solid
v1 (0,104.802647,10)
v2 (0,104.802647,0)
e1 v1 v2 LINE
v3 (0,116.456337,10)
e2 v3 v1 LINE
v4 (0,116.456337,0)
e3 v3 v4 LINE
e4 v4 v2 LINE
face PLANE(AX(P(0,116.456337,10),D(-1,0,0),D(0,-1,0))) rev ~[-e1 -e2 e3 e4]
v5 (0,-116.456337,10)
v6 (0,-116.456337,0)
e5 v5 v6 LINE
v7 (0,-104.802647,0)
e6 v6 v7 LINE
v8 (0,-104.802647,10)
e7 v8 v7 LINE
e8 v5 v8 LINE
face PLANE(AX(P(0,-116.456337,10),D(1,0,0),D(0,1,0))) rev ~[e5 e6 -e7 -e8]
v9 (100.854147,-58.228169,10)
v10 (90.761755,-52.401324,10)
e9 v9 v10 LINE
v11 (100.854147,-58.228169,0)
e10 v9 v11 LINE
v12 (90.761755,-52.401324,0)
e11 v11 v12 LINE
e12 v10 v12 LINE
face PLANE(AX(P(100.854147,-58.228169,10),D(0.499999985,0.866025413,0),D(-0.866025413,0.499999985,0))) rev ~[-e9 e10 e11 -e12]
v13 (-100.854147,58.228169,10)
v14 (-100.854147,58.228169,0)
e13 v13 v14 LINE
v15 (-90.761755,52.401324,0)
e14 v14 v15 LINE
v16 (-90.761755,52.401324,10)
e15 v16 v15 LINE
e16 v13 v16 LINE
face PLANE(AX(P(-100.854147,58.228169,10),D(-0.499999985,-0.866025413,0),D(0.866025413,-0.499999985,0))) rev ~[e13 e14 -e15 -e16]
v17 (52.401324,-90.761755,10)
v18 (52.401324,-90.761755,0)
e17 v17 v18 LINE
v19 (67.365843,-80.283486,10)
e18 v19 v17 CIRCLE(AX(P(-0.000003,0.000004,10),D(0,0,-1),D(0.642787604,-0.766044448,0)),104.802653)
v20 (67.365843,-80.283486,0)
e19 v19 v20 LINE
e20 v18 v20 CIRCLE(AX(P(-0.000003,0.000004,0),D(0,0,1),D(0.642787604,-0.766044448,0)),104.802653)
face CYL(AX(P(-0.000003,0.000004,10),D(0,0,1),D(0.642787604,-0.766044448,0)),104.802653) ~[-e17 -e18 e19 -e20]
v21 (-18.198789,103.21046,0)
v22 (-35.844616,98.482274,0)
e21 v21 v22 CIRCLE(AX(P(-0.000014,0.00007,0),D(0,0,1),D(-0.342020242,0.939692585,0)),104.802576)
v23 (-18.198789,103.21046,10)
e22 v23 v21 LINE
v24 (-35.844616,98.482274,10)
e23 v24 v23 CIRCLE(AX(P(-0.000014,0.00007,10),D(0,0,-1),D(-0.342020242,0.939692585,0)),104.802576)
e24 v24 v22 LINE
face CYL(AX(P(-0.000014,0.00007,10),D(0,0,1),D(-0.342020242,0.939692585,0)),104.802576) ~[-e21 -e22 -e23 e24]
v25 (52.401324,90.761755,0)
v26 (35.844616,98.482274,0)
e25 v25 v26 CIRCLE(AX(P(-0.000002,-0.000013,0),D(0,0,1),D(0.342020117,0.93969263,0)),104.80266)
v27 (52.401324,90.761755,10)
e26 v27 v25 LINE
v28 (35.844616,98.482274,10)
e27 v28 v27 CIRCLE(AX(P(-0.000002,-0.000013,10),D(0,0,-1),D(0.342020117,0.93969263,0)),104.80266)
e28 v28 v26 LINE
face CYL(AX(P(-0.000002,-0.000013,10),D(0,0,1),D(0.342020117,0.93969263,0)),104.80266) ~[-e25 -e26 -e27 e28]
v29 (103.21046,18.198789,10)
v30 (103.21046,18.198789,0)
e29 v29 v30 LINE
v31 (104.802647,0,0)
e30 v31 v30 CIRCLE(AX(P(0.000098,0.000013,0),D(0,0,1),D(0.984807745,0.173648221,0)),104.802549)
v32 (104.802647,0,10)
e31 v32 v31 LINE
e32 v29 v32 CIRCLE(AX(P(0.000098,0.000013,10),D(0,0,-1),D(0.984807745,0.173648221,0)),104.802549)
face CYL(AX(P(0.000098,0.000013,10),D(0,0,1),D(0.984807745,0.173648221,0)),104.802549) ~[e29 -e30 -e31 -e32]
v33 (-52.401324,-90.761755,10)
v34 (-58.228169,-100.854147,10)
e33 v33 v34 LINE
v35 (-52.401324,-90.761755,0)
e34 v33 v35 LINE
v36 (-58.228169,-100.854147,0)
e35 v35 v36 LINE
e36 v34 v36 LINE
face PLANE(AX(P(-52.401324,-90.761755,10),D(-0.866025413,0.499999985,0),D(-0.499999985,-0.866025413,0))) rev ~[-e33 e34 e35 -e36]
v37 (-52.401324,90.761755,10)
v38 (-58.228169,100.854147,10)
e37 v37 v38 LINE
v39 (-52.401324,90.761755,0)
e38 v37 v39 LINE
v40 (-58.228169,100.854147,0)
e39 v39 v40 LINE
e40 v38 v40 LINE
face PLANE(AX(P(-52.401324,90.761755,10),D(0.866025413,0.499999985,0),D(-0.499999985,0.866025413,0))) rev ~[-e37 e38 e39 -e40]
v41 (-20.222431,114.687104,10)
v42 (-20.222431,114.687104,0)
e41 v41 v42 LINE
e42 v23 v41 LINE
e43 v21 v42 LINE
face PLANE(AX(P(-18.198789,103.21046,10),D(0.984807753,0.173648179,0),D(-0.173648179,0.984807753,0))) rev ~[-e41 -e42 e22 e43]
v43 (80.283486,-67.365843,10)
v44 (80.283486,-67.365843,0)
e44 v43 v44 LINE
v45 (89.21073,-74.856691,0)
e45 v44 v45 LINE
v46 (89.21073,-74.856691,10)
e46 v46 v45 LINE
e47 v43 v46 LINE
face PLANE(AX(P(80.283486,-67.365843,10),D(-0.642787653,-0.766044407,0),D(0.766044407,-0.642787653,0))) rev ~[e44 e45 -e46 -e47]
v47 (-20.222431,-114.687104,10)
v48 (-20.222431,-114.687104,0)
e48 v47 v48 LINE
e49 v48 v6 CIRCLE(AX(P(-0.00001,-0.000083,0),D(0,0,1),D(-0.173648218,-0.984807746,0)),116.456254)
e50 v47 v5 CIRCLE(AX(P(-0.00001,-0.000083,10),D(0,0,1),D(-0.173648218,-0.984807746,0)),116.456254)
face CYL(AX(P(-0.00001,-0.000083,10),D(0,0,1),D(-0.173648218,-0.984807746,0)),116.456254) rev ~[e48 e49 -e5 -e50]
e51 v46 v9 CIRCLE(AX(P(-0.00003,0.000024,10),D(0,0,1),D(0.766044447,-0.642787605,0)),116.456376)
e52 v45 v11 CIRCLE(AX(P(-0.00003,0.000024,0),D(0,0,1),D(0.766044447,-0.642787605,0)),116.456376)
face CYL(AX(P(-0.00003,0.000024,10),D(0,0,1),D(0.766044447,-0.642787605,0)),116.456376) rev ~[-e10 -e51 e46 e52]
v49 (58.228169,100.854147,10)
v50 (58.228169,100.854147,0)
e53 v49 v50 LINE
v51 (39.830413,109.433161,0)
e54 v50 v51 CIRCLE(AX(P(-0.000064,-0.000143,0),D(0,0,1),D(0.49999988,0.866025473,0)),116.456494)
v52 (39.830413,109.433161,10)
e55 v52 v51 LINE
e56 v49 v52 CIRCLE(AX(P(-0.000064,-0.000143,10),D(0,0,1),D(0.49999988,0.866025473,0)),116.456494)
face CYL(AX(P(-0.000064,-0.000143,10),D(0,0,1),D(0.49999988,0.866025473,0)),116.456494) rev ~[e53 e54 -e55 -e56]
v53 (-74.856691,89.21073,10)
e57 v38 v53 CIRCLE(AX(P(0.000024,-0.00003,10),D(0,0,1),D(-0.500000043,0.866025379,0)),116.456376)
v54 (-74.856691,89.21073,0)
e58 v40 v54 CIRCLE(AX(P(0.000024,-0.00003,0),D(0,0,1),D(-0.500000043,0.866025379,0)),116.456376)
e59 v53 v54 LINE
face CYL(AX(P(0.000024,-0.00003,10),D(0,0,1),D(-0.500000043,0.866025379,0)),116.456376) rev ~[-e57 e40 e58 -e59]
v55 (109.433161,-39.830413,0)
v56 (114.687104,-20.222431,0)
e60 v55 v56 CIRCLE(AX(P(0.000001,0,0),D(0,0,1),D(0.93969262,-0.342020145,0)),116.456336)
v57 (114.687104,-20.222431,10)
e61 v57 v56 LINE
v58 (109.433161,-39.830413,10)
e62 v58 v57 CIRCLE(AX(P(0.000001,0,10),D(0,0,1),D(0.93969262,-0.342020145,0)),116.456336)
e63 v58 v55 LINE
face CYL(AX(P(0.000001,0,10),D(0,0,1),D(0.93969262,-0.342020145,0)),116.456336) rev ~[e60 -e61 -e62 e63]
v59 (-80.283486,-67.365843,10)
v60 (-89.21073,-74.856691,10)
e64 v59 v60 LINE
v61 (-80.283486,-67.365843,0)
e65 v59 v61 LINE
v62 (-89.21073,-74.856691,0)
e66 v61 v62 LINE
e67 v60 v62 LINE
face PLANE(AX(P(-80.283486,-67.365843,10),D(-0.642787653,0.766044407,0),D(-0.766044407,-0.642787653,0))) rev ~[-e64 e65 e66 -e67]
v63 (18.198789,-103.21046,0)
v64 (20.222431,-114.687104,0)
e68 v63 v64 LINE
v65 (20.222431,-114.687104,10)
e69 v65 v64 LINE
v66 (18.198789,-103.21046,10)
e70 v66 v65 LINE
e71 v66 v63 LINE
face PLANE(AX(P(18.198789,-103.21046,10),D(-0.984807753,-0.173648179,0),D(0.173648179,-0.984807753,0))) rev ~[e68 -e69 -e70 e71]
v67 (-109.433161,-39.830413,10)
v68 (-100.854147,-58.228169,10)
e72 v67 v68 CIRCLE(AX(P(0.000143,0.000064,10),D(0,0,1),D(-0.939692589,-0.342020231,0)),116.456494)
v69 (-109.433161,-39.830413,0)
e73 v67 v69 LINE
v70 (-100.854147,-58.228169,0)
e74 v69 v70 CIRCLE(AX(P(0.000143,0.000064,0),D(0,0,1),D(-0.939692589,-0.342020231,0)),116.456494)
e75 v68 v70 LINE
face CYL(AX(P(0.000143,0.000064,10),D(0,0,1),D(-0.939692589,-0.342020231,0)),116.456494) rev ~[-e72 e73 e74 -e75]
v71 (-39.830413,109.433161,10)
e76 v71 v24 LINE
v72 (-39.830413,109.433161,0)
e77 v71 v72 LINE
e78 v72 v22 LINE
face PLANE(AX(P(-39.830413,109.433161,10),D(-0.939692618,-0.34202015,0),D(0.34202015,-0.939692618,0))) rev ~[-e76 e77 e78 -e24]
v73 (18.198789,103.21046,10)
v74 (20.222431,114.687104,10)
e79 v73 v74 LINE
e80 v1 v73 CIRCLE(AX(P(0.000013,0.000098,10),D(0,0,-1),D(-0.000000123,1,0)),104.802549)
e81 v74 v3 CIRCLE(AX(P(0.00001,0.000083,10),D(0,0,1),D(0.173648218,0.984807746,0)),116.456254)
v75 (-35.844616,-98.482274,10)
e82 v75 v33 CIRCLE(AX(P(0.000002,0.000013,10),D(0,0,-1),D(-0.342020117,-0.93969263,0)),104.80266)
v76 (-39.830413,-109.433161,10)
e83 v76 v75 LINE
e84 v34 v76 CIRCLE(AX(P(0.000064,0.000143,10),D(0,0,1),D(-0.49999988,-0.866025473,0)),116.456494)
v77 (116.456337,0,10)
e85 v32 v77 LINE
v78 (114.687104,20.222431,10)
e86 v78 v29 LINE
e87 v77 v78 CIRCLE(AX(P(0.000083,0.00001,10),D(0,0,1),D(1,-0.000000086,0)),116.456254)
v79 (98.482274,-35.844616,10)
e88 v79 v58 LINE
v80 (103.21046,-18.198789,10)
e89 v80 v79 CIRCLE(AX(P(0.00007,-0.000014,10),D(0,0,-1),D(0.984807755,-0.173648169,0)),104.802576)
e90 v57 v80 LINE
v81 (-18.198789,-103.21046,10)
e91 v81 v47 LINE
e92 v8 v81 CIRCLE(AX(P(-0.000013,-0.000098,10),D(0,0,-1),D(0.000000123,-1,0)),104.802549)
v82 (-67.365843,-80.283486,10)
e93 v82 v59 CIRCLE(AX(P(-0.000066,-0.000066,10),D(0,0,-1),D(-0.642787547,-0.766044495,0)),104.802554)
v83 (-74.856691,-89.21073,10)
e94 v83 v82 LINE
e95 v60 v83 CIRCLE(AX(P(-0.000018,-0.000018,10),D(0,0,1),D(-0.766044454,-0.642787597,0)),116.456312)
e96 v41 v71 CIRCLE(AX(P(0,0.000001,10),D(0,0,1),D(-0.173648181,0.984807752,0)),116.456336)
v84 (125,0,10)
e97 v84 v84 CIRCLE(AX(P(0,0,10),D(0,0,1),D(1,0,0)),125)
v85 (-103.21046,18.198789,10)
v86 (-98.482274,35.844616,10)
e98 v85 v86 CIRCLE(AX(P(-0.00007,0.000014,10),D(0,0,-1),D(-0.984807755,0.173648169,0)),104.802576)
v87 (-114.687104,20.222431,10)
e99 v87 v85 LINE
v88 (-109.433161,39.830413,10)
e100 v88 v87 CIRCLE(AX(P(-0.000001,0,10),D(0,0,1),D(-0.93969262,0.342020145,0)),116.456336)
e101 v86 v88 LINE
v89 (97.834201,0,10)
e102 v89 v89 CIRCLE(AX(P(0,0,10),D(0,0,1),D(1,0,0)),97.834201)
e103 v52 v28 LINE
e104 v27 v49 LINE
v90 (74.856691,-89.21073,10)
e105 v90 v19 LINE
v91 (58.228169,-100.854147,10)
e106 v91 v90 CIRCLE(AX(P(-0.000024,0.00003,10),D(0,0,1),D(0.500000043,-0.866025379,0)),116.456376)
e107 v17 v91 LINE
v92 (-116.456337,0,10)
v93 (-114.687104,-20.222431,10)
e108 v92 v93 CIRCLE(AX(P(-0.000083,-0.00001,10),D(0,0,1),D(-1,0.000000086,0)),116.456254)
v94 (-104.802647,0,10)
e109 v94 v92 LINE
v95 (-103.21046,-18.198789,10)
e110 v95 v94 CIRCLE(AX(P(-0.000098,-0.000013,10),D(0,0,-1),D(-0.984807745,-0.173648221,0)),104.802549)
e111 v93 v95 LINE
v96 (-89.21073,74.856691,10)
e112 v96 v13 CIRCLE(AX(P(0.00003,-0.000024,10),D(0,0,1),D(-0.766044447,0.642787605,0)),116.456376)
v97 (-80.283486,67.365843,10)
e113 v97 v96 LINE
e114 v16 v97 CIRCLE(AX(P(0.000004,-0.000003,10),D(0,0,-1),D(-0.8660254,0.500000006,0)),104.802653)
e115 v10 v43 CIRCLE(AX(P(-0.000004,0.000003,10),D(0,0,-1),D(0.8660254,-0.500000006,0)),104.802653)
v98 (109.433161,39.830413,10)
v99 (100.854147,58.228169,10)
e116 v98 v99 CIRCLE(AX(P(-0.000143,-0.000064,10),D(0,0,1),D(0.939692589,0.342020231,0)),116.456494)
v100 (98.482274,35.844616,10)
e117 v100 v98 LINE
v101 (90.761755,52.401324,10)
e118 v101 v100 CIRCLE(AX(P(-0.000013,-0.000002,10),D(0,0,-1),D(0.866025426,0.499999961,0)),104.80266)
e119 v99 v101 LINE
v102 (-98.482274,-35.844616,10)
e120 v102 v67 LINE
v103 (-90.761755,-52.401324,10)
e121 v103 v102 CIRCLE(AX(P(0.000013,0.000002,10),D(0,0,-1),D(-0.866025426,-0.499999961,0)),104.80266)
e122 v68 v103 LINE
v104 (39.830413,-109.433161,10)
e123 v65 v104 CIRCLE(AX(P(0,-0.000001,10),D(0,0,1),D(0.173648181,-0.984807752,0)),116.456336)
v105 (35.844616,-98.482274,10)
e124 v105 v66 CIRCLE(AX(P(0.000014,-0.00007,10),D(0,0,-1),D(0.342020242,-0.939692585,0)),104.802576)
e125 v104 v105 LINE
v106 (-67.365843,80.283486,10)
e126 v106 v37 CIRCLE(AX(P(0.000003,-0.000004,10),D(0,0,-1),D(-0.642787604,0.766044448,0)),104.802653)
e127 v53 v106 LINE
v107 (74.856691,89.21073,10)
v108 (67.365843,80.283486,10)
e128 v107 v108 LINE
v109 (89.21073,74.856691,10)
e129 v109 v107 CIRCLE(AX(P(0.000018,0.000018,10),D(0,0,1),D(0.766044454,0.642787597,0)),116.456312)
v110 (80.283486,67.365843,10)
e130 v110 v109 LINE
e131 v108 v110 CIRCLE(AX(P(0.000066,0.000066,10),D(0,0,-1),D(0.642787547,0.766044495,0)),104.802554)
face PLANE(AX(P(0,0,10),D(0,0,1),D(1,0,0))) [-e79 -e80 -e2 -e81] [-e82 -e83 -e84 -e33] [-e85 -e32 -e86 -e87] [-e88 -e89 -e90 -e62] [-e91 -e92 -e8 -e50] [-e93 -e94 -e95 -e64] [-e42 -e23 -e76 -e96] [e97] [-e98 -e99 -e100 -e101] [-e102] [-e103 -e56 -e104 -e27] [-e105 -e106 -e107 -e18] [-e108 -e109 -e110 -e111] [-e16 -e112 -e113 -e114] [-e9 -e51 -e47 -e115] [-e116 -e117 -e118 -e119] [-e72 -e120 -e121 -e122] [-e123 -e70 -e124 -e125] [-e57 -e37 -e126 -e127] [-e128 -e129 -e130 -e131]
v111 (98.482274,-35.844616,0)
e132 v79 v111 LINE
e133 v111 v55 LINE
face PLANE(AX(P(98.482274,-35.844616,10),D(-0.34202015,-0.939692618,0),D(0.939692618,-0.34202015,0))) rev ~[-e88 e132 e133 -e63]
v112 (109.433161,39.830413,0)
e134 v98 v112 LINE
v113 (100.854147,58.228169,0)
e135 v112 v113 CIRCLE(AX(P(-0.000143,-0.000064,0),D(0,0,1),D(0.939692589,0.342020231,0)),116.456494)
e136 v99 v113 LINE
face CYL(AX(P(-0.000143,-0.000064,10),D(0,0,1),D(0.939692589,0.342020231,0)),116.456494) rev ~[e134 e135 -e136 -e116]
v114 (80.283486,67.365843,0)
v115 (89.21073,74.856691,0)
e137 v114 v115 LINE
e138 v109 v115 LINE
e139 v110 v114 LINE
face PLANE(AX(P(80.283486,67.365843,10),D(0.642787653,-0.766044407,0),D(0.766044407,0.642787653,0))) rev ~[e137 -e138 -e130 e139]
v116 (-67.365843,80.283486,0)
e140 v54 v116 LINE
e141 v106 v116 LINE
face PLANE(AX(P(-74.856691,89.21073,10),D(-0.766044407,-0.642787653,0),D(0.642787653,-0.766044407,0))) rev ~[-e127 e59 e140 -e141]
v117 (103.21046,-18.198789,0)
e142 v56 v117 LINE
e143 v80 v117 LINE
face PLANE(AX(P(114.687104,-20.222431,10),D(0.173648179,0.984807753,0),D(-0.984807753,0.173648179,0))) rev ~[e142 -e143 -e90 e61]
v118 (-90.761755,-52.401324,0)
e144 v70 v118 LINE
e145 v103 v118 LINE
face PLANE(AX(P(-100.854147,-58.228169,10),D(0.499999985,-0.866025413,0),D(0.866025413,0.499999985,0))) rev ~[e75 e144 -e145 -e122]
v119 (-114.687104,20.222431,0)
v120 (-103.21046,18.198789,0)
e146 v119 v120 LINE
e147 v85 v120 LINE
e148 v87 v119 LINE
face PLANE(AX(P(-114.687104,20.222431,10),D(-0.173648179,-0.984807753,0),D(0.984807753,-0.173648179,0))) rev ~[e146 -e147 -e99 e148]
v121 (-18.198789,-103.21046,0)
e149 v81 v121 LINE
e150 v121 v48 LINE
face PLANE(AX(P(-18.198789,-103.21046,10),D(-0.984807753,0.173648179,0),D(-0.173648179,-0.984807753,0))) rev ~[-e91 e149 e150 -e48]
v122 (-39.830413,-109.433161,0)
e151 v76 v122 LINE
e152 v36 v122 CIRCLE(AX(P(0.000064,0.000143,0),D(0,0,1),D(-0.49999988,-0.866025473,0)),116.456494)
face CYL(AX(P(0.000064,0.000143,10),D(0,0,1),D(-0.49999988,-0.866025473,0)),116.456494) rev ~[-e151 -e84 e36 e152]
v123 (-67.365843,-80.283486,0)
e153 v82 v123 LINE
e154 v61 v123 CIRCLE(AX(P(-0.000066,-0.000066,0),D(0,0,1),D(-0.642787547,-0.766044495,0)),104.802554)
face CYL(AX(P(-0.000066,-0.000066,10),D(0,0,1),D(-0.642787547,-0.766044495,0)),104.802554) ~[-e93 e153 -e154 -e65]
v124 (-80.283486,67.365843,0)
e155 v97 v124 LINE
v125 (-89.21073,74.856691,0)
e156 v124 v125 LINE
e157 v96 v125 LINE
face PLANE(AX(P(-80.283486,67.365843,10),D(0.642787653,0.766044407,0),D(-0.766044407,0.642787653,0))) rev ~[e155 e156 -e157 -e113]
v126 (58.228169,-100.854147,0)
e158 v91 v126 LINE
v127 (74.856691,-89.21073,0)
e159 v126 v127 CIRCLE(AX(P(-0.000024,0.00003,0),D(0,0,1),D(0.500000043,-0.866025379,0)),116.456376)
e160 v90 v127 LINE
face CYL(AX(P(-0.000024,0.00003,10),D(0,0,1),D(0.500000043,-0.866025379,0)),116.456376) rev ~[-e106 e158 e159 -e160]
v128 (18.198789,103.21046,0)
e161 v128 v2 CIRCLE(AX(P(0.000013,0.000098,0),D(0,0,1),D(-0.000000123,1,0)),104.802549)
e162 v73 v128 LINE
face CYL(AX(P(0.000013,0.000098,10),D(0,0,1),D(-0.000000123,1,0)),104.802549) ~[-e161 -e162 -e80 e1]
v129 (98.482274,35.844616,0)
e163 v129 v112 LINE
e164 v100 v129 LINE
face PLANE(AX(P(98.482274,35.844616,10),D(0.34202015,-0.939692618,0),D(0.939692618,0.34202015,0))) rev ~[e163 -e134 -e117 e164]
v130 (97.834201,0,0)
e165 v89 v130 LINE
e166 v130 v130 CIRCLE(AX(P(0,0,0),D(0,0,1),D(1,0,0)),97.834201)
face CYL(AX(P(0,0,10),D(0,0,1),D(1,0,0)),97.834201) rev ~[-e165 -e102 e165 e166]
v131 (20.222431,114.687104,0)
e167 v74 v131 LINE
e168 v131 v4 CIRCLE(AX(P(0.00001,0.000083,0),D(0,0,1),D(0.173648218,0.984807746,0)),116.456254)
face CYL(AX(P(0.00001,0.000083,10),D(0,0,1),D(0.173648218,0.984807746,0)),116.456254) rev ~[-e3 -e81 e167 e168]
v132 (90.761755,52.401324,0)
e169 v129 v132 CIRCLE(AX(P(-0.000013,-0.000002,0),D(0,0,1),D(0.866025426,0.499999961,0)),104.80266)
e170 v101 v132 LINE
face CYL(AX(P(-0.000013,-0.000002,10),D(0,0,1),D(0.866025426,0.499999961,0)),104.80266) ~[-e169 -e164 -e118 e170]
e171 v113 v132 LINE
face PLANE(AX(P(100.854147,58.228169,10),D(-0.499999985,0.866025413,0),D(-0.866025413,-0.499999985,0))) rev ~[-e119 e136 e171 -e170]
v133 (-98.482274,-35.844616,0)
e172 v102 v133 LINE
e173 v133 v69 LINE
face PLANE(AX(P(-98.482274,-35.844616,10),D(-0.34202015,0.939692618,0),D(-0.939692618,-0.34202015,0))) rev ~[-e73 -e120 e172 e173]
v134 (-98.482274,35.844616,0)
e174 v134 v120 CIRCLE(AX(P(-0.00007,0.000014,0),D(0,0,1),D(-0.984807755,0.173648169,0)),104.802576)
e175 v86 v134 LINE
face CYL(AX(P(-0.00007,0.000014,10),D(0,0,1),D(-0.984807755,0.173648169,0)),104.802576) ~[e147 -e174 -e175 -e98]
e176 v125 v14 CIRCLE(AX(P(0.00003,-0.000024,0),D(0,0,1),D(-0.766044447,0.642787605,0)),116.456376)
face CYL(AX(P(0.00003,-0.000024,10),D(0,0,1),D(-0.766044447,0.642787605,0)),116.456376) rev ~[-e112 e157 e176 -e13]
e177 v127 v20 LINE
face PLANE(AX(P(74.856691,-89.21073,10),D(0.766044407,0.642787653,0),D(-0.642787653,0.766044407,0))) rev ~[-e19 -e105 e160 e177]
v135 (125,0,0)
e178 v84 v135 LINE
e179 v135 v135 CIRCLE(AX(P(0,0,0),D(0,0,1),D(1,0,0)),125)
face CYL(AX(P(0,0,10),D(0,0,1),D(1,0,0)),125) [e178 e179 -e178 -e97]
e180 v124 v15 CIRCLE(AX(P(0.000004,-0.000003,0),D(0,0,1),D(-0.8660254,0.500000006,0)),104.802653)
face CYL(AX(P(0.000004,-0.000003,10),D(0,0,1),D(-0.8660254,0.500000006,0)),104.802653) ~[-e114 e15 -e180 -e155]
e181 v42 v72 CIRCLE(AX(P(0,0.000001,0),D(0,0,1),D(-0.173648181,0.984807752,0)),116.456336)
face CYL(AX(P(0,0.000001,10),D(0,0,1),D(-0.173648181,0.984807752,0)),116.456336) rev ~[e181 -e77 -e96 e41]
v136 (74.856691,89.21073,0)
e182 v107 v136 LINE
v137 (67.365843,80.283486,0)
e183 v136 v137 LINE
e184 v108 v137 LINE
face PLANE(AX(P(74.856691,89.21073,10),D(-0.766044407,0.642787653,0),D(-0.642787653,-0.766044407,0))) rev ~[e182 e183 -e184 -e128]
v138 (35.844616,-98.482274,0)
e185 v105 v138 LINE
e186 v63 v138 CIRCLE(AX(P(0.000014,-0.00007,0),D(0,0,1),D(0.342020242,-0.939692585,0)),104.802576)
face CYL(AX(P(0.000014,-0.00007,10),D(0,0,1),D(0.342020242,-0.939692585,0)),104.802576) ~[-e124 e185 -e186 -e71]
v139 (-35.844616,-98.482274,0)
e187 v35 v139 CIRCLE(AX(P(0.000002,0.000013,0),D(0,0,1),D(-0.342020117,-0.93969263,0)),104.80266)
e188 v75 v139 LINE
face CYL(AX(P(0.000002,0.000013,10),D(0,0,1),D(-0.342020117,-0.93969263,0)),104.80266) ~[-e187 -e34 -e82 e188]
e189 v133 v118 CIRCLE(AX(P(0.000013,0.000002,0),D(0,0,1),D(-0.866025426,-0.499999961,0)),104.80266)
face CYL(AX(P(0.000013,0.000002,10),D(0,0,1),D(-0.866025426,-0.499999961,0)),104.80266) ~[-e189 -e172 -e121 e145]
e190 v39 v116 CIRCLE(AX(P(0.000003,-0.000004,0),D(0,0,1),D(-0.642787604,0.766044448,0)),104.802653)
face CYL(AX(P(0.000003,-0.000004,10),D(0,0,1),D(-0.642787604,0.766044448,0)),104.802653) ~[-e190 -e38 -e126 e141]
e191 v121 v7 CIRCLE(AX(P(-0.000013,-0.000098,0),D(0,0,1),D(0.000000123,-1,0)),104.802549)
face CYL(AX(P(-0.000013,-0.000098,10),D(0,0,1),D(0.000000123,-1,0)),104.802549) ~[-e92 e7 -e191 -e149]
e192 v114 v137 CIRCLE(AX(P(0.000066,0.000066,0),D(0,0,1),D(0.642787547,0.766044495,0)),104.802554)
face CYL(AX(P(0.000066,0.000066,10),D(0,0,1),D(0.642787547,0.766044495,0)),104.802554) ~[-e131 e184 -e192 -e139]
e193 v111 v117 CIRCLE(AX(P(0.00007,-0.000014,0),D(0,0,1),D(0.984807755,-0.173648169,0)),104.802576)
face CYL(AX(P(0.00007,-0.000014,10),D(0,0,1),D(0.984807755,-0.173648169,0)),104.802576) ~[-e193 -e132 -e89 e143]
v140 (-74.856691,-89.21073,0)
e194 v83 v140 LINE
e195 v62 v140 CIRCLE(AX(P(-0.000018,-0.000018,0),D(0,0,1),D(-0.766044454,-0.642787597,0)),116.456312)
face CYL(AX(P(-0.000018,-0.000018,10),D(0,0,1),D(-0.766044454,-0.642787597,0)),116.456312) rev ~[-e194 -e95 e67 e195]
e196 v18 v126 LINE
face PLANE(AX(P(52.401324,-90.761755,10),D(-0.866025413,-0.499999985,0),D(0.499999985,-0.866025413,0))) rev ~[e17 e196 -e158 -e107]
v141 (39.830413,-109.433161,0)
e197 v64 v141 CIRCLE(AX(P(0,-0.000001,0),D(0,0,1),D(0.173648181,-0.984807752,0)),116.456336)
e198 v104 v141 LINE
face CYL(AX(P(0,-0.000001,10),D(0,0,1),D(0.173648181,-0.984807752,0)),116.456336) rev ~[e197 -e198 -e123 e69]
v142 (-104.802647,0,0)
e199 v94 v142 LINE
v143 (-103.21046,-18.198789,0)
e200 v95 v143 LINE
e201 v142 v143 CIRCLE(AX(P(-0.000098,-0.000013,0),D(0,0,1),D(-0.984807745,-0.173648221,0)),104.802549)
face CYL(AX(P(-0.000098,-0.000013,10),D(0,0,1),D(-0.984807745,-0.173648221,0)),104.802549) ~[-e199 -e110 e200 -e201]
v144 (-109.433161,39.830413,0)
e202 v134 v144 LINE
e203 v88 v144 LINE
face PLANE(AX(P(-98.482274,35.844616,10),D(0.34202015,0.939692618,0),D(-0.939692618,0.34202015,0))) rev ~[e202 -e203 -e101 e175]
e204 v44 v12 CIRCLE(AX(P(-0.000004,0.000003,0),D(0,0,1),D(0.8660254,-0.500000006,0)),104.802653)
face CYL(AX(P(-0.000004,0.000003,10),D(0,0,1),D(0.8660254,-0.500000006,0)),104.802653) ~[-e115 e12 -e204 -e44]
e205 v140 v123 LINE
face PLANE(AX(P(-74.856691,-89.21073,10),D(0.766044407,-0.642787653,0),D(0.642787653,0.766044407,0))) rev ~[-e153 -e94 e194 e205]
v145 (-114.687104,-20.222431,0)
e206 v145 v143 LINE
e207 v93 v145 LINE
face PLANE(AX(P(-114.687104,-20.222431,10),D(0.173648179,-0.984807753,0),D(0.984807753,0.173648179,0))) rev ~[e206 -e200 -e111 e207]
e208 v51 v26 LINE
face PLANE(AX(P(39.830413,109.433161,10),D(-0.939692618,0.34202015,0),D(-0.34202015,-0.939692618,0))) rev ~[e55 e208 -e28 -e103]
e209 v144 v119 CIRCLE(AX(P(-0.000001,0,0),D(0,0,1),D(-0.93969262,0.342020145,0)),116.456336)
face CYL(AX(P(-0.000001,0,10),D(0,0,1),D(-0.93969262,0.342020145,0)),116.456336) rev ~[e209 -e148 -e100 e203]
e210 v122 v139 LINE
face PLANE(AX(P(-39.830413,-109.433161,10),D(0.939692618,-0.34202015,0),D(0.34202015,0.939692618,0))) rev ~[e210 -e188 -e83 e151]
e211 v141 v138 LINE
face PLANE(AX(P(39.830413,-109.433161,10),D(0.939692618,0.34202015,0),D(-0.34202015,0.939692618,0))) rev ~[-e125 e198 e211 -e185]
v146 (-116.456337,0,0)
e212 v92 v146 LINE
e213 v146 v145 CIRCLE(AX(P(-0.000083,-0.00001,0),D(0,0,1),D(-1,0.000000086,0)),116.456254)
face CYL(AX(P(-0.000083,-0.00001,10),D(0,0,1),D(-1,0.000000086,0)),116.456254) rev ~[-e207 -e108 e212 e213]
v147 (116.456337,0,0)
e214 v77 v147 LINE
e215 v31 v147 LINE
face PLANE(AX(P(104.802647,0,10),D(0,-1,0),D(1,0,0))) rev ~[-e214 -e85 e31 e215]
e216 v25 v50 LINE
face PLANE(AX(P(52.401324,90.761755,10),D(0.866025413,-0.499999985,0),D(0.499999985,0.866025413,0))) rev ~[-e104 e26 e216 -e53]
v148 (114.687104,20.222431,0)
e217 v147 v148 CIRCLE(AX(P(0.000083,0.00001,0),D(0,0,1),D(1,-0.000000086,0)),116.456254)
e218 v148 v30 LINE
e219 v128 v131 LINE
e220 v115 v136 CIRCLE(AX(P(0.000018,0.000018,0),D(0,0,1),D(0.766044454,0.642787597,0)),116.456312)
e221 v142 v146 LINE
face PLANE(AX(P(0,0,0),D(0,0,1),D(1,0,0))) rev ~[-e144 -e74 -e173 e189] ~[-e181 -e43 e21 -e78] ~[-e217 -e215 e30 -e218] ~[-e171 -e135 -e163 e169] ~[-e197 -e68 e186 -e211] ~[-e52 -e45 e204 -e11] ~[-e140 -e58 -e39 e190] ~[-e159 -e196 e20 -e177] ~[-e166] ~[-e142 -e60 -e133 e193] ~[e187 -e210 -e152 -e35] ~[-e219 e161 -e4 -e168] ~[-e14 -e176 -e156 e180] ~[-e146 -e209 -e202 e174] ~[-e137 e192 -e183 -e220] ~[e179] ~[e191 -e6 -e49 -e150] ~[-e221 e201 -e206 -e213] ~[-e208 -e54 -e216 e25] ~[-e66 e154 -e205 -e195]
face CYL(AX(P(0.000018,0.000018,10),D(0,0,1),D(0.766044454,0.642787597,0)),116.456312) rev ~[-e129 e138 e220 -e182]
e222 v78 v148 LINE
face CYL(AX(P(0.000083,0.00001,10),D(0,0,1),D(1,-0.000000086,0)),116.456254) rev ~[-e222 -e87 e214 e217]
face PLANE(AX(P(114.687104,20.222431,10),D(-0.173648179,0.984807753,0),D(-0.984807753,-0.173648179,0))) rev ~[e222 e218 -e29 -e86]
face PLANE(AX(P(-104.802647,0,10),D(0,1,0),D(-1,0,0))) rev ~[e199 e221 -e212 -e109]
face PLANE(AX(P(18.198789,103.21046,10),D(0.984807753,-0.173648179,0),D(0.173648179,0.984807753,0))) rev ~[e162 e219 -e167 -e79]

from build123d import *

# Parameters (mm, degrees)
F0_R     = 50
F1_DEPTH = 10
F2_R     = 125
F2_R_2   = 40.44952
F3_DEPTH = 10
F5_DEPTH = 25
F6_R     = 97.834201
F7_DEPTH = 25


with BuildPart() as f1:
    # F0 (on Top) → F1 (new body)
    with BuildSketch(Plane.XY):
        Circle(F0_R)
        Polygon((-10, 30), (0, 30), (10, 30), (10, 10), (30, 10), (30, 0), (30, -10), (10, -10), (10, -30), (0, -30), (-10, -30), (-10, -10), (-30, -10), (-30, 0), (-30, 10), (-10, 10), align=None, mode=Mode.SUBTRACT)
    extrude(amount=F1_DEPTH)

    # F2 (on face) → F3 (join)
    with BuildSketch(Plane.XY.offset(10)):
        Circle(F2_R)
        Circle(F2_R_2, mode=Mode.SUBTRACT)
    extrude(amount=-F3_DEPTH)

    # F4 (on face) → F5 (cut)
    with BuildSketch(Plane.XY.offset(10)):
        with BuildLine():
            Line((0, 116.456337), (0, 104.802647))
            ThreePointArc((0, 104.802647), (9.134153, 104.403842), (18.198789, 103.21046))
            Line((18.198789, 103.21046), (20.222431, 114.687104))
            ThreePointArc((20.222431, 114.687104), (10.149839, 116.013186), (0, 116.456337))
        make_face()
        with BuildLine():
            ThreePointArc((-35.844616, 98.482274), (-27.124921, 101.231584), (-18.198789, 103.21046))
            Line((-18.198789, 103.21046), (-20.222431, 114.687104))
            ThreePointArc((-20.222431, 114.687104), (-30.141118, 112.488184), (-39.830413, 109.433161))
            Line((-39.830413, 109.433161), (-35.844616, 98.482274))
        make_face()
        with BuildLine():
            ThreePointArc((-67.365843, 80.283486), (-60.112329, 85.849303), (-52.401324, 90.761755))
            Line((-52.401324, 90.761755), (-58.228169, 100.854147))
            ThreePointArc((-58.228169, 100.854147), (-66.796611, 95.395447), (-74.856691, 89.21073))
            Line((-74.856691, 89.21073), (-67.365843, 80.283486))
        make_face()
        with BuildLine():
            ThreePointArc((-90.761755, 52.401324), (-85.849303, 60.112329), (-80.283486, 67.365843))
            Line((-80.283486, 67.365843), (-89.21073, 74.856691))
            ThreePointArc((-89.21073, 74.856691), (-95.395447, 66.796611), (-100.854147, 58.228169))
            Line((-100.854147, 58.228169), (-90.761755, 52.401324))
        make_face()
        with BuildLine():
            ThreePointArc((-103.21046, 18.198789), (-101.231584, 27.124921), (-98.482274, 35.844616))
            Line((-98.482274, 35.844616), (-109.433161, 39.830413))
            ThreePointArc((-109.433161, 39.830413), (-112.488184, 30.141118), (-114.687104, 20.222431))
            Line((-114.687104, 20.222431), (-103.21046, 18.198789))
        make_face()
        with BuildLine():
            ThreePointArc((-103.21046, -18.198789), (-104.403842, -9.134153), (-104.802647, 0))
            Line((-104.802647, 0), (-116.456337, 0))
            ThreePointArc((-116.456337, 0), (-116.013186, -10.149839), (-114.687104, -20.222431))
            Line((-114.687104, -20.222431), (-103.21046, -18.198789))
        make_face()
        with BuildLine():
            ThreePointArc((-90.761755, -52.401324), (-94.983455, -44.291513), (-98.482274, -35.844616))
            Line((-98.482274, -35.844616), (-109.433161, -39.830413))
            ThreePointArc((-109.433161, -39.830413), (-105.545285, -49.216575), (-100.854147, -58.228169))
            Line((-100.854147, -58.228169), (-90.761755, -52.401324))
        make_face()
        with BuildLine():
            ThreePointArc((-67.365843, -80.283486), (-74.106663, -74.106663), (-80.283486, -67.365843))
            Line((-80.283486, -67.365843), (-89.21073, -74.856691))
            ThreePointArc((-89.21073, -74.856691), (-82.347066, -82.347066), (-74.856691, -89.21073))
            Line((-74.856691, -89.21073), (-67.365843, -80.283486))
        make_face()
        with BuildLine():
            ThreePointArc((-35.844616, -98.482274), (-44.291513, -94.983455), (-52.401324, -90.761755))
            Line((-52.401324, -90.761755), (-58.228169, -100.854147))
            ThreePointArc((-58.228169, -100.854147), (-49.216575, -105.545285), (-39.830413, -109.433161))
            Line((-39.830413, -109.433161), (-35.844616, -98.482274))
        make_face()
        with BuildLine():
            ThreePointArc((0, -104.802647), (-9.134153, -104.403842), (-18.198789, -103.21046))
            Line((-18.198789, -103.21046), (-20.222431, -114.687104))
            ThreePointArc((-20.222431, -114.687104), (-10.149839, -116.013186), (0, -116.456337))
            Line((0, -116.456337), (0, -104.802647))
        make_face()
        with BuildLine():
            ThreePointArc((35.844616, -98.482274), (27.124921, -101.231584), (18.198789, -103.21046))
            Line((18.198789, -103.21046), (20.222431, -114.687104))
            ThreePointArc((20.222431, -114.687104), (30.141118, -112.488184), (39.830413, -109.433161))
            Line((39.830413, -109.433161), (35.844616, -98.482274))
        make_face()
        with BuildLine():
            ThreePointArc((67.365843, -80.283486), (60.112329, -85.849303), (52.401324, -90.761755))
            Line((52.401324, -90.761755), (58.228169, -100.854147))
            ThreePointArc((58.228169, -100.854147), (66.796611, -95.395447), (74.856691, -89.21073))
            Line((74.856691, -89.21073), (67.365843, -80.283486))
        make_face()
        with BuildLine():
            ThreePointArc((90.761755, -52.401324), (85.849303, -60.112329), (80.283486, -67.365843))
            Line((80.283486, -67.365843), (89.21073, -74.856691))
            ThreePointArc((89.21073, -74.856691), (95.395447, -66.796611), (100.854147, -58.228169))
            Line((100.854147, -58.228169), (90.761755, -52.401324))
        make_face()
        with BuildLine():
            ThreePointArc((103.21046, -18.198789), (101.231584, -27.124921), (98.482274, -35.844616))
            Line((98.482274, -35.844616), (109.433161, -39.830413))
            ThreePointArc((109.433161, -39.830413), (112.488184, -30.141118), (114.687104, -20.222431))
            Line((114.687104, -20.222431), (103.21046, -18.198789))
        make_face()
        with BuildLine():
            ThreePointArc((103.21046, 18.198789), (104.403842, 9.134153), (104.802647, 0))
            Line((104.802647, 0), (116.456337, 0))
            ThreePointArc((116.456337, 0), (116.013186, 10.149839), (114.687104, 20.222431))
            Line((114.687104, 20.222431), (103.21046, 18.198789))
        make_face()
        with BuildLine():
            ThreePointArc((90.761755, 52.401324), (94.983455, 44.291513), (98.482274, 35.844616))
            Line((98.482274, 35.844616), (109.433161, 39.830413))
            ThreePointArc((109.433161, 39.830413), (105.545285, 49.216575), (100.854147, 58.228169))
            Line((100.854147, 58.228169), (90.761755, 52.401324))
        make_face()
        with BuildLine():
            ThreePointArc((67.365843, 80.283486), (74.106663, 74.106663), (80.283486, 67.365843))
            Line((80.283486, 67.365843), (89.21073, 74.856691))
            ThreePointArc((89.21073, 74.856691), (82.347066, 82.347066), (74.856691, 89.21073))
            Line((74.856691, 89.21073), (67.365843, 80.283486))
        make_face()
        with BuildLine():
            ThreePointArc((35.844616, 98.482274), (44.291513, 94.983455), (52.401324, 90.761755))
            Line((52.401324, 90.761755), (58.228169, 100.854147))
            ThreePointArc((58.228169, 100.854147), (49.216575, 105.545285), (39.830413, 109.433161))
            Line((39.830413, 109.433161), (35.844616, 98.482274))
        make_face()
    extrude(amount=-F5_DEPTH, mode=Mode.SUBTRACT)

    # F6 (on face) → F7 (cut)
    with BuildSketch(Plane.XY.offset(10)):
        Circle(F6_R)
    extrude(amount=-F7_DEPTH, mode=Mode.SUBTRACT)


solid = f1.part
